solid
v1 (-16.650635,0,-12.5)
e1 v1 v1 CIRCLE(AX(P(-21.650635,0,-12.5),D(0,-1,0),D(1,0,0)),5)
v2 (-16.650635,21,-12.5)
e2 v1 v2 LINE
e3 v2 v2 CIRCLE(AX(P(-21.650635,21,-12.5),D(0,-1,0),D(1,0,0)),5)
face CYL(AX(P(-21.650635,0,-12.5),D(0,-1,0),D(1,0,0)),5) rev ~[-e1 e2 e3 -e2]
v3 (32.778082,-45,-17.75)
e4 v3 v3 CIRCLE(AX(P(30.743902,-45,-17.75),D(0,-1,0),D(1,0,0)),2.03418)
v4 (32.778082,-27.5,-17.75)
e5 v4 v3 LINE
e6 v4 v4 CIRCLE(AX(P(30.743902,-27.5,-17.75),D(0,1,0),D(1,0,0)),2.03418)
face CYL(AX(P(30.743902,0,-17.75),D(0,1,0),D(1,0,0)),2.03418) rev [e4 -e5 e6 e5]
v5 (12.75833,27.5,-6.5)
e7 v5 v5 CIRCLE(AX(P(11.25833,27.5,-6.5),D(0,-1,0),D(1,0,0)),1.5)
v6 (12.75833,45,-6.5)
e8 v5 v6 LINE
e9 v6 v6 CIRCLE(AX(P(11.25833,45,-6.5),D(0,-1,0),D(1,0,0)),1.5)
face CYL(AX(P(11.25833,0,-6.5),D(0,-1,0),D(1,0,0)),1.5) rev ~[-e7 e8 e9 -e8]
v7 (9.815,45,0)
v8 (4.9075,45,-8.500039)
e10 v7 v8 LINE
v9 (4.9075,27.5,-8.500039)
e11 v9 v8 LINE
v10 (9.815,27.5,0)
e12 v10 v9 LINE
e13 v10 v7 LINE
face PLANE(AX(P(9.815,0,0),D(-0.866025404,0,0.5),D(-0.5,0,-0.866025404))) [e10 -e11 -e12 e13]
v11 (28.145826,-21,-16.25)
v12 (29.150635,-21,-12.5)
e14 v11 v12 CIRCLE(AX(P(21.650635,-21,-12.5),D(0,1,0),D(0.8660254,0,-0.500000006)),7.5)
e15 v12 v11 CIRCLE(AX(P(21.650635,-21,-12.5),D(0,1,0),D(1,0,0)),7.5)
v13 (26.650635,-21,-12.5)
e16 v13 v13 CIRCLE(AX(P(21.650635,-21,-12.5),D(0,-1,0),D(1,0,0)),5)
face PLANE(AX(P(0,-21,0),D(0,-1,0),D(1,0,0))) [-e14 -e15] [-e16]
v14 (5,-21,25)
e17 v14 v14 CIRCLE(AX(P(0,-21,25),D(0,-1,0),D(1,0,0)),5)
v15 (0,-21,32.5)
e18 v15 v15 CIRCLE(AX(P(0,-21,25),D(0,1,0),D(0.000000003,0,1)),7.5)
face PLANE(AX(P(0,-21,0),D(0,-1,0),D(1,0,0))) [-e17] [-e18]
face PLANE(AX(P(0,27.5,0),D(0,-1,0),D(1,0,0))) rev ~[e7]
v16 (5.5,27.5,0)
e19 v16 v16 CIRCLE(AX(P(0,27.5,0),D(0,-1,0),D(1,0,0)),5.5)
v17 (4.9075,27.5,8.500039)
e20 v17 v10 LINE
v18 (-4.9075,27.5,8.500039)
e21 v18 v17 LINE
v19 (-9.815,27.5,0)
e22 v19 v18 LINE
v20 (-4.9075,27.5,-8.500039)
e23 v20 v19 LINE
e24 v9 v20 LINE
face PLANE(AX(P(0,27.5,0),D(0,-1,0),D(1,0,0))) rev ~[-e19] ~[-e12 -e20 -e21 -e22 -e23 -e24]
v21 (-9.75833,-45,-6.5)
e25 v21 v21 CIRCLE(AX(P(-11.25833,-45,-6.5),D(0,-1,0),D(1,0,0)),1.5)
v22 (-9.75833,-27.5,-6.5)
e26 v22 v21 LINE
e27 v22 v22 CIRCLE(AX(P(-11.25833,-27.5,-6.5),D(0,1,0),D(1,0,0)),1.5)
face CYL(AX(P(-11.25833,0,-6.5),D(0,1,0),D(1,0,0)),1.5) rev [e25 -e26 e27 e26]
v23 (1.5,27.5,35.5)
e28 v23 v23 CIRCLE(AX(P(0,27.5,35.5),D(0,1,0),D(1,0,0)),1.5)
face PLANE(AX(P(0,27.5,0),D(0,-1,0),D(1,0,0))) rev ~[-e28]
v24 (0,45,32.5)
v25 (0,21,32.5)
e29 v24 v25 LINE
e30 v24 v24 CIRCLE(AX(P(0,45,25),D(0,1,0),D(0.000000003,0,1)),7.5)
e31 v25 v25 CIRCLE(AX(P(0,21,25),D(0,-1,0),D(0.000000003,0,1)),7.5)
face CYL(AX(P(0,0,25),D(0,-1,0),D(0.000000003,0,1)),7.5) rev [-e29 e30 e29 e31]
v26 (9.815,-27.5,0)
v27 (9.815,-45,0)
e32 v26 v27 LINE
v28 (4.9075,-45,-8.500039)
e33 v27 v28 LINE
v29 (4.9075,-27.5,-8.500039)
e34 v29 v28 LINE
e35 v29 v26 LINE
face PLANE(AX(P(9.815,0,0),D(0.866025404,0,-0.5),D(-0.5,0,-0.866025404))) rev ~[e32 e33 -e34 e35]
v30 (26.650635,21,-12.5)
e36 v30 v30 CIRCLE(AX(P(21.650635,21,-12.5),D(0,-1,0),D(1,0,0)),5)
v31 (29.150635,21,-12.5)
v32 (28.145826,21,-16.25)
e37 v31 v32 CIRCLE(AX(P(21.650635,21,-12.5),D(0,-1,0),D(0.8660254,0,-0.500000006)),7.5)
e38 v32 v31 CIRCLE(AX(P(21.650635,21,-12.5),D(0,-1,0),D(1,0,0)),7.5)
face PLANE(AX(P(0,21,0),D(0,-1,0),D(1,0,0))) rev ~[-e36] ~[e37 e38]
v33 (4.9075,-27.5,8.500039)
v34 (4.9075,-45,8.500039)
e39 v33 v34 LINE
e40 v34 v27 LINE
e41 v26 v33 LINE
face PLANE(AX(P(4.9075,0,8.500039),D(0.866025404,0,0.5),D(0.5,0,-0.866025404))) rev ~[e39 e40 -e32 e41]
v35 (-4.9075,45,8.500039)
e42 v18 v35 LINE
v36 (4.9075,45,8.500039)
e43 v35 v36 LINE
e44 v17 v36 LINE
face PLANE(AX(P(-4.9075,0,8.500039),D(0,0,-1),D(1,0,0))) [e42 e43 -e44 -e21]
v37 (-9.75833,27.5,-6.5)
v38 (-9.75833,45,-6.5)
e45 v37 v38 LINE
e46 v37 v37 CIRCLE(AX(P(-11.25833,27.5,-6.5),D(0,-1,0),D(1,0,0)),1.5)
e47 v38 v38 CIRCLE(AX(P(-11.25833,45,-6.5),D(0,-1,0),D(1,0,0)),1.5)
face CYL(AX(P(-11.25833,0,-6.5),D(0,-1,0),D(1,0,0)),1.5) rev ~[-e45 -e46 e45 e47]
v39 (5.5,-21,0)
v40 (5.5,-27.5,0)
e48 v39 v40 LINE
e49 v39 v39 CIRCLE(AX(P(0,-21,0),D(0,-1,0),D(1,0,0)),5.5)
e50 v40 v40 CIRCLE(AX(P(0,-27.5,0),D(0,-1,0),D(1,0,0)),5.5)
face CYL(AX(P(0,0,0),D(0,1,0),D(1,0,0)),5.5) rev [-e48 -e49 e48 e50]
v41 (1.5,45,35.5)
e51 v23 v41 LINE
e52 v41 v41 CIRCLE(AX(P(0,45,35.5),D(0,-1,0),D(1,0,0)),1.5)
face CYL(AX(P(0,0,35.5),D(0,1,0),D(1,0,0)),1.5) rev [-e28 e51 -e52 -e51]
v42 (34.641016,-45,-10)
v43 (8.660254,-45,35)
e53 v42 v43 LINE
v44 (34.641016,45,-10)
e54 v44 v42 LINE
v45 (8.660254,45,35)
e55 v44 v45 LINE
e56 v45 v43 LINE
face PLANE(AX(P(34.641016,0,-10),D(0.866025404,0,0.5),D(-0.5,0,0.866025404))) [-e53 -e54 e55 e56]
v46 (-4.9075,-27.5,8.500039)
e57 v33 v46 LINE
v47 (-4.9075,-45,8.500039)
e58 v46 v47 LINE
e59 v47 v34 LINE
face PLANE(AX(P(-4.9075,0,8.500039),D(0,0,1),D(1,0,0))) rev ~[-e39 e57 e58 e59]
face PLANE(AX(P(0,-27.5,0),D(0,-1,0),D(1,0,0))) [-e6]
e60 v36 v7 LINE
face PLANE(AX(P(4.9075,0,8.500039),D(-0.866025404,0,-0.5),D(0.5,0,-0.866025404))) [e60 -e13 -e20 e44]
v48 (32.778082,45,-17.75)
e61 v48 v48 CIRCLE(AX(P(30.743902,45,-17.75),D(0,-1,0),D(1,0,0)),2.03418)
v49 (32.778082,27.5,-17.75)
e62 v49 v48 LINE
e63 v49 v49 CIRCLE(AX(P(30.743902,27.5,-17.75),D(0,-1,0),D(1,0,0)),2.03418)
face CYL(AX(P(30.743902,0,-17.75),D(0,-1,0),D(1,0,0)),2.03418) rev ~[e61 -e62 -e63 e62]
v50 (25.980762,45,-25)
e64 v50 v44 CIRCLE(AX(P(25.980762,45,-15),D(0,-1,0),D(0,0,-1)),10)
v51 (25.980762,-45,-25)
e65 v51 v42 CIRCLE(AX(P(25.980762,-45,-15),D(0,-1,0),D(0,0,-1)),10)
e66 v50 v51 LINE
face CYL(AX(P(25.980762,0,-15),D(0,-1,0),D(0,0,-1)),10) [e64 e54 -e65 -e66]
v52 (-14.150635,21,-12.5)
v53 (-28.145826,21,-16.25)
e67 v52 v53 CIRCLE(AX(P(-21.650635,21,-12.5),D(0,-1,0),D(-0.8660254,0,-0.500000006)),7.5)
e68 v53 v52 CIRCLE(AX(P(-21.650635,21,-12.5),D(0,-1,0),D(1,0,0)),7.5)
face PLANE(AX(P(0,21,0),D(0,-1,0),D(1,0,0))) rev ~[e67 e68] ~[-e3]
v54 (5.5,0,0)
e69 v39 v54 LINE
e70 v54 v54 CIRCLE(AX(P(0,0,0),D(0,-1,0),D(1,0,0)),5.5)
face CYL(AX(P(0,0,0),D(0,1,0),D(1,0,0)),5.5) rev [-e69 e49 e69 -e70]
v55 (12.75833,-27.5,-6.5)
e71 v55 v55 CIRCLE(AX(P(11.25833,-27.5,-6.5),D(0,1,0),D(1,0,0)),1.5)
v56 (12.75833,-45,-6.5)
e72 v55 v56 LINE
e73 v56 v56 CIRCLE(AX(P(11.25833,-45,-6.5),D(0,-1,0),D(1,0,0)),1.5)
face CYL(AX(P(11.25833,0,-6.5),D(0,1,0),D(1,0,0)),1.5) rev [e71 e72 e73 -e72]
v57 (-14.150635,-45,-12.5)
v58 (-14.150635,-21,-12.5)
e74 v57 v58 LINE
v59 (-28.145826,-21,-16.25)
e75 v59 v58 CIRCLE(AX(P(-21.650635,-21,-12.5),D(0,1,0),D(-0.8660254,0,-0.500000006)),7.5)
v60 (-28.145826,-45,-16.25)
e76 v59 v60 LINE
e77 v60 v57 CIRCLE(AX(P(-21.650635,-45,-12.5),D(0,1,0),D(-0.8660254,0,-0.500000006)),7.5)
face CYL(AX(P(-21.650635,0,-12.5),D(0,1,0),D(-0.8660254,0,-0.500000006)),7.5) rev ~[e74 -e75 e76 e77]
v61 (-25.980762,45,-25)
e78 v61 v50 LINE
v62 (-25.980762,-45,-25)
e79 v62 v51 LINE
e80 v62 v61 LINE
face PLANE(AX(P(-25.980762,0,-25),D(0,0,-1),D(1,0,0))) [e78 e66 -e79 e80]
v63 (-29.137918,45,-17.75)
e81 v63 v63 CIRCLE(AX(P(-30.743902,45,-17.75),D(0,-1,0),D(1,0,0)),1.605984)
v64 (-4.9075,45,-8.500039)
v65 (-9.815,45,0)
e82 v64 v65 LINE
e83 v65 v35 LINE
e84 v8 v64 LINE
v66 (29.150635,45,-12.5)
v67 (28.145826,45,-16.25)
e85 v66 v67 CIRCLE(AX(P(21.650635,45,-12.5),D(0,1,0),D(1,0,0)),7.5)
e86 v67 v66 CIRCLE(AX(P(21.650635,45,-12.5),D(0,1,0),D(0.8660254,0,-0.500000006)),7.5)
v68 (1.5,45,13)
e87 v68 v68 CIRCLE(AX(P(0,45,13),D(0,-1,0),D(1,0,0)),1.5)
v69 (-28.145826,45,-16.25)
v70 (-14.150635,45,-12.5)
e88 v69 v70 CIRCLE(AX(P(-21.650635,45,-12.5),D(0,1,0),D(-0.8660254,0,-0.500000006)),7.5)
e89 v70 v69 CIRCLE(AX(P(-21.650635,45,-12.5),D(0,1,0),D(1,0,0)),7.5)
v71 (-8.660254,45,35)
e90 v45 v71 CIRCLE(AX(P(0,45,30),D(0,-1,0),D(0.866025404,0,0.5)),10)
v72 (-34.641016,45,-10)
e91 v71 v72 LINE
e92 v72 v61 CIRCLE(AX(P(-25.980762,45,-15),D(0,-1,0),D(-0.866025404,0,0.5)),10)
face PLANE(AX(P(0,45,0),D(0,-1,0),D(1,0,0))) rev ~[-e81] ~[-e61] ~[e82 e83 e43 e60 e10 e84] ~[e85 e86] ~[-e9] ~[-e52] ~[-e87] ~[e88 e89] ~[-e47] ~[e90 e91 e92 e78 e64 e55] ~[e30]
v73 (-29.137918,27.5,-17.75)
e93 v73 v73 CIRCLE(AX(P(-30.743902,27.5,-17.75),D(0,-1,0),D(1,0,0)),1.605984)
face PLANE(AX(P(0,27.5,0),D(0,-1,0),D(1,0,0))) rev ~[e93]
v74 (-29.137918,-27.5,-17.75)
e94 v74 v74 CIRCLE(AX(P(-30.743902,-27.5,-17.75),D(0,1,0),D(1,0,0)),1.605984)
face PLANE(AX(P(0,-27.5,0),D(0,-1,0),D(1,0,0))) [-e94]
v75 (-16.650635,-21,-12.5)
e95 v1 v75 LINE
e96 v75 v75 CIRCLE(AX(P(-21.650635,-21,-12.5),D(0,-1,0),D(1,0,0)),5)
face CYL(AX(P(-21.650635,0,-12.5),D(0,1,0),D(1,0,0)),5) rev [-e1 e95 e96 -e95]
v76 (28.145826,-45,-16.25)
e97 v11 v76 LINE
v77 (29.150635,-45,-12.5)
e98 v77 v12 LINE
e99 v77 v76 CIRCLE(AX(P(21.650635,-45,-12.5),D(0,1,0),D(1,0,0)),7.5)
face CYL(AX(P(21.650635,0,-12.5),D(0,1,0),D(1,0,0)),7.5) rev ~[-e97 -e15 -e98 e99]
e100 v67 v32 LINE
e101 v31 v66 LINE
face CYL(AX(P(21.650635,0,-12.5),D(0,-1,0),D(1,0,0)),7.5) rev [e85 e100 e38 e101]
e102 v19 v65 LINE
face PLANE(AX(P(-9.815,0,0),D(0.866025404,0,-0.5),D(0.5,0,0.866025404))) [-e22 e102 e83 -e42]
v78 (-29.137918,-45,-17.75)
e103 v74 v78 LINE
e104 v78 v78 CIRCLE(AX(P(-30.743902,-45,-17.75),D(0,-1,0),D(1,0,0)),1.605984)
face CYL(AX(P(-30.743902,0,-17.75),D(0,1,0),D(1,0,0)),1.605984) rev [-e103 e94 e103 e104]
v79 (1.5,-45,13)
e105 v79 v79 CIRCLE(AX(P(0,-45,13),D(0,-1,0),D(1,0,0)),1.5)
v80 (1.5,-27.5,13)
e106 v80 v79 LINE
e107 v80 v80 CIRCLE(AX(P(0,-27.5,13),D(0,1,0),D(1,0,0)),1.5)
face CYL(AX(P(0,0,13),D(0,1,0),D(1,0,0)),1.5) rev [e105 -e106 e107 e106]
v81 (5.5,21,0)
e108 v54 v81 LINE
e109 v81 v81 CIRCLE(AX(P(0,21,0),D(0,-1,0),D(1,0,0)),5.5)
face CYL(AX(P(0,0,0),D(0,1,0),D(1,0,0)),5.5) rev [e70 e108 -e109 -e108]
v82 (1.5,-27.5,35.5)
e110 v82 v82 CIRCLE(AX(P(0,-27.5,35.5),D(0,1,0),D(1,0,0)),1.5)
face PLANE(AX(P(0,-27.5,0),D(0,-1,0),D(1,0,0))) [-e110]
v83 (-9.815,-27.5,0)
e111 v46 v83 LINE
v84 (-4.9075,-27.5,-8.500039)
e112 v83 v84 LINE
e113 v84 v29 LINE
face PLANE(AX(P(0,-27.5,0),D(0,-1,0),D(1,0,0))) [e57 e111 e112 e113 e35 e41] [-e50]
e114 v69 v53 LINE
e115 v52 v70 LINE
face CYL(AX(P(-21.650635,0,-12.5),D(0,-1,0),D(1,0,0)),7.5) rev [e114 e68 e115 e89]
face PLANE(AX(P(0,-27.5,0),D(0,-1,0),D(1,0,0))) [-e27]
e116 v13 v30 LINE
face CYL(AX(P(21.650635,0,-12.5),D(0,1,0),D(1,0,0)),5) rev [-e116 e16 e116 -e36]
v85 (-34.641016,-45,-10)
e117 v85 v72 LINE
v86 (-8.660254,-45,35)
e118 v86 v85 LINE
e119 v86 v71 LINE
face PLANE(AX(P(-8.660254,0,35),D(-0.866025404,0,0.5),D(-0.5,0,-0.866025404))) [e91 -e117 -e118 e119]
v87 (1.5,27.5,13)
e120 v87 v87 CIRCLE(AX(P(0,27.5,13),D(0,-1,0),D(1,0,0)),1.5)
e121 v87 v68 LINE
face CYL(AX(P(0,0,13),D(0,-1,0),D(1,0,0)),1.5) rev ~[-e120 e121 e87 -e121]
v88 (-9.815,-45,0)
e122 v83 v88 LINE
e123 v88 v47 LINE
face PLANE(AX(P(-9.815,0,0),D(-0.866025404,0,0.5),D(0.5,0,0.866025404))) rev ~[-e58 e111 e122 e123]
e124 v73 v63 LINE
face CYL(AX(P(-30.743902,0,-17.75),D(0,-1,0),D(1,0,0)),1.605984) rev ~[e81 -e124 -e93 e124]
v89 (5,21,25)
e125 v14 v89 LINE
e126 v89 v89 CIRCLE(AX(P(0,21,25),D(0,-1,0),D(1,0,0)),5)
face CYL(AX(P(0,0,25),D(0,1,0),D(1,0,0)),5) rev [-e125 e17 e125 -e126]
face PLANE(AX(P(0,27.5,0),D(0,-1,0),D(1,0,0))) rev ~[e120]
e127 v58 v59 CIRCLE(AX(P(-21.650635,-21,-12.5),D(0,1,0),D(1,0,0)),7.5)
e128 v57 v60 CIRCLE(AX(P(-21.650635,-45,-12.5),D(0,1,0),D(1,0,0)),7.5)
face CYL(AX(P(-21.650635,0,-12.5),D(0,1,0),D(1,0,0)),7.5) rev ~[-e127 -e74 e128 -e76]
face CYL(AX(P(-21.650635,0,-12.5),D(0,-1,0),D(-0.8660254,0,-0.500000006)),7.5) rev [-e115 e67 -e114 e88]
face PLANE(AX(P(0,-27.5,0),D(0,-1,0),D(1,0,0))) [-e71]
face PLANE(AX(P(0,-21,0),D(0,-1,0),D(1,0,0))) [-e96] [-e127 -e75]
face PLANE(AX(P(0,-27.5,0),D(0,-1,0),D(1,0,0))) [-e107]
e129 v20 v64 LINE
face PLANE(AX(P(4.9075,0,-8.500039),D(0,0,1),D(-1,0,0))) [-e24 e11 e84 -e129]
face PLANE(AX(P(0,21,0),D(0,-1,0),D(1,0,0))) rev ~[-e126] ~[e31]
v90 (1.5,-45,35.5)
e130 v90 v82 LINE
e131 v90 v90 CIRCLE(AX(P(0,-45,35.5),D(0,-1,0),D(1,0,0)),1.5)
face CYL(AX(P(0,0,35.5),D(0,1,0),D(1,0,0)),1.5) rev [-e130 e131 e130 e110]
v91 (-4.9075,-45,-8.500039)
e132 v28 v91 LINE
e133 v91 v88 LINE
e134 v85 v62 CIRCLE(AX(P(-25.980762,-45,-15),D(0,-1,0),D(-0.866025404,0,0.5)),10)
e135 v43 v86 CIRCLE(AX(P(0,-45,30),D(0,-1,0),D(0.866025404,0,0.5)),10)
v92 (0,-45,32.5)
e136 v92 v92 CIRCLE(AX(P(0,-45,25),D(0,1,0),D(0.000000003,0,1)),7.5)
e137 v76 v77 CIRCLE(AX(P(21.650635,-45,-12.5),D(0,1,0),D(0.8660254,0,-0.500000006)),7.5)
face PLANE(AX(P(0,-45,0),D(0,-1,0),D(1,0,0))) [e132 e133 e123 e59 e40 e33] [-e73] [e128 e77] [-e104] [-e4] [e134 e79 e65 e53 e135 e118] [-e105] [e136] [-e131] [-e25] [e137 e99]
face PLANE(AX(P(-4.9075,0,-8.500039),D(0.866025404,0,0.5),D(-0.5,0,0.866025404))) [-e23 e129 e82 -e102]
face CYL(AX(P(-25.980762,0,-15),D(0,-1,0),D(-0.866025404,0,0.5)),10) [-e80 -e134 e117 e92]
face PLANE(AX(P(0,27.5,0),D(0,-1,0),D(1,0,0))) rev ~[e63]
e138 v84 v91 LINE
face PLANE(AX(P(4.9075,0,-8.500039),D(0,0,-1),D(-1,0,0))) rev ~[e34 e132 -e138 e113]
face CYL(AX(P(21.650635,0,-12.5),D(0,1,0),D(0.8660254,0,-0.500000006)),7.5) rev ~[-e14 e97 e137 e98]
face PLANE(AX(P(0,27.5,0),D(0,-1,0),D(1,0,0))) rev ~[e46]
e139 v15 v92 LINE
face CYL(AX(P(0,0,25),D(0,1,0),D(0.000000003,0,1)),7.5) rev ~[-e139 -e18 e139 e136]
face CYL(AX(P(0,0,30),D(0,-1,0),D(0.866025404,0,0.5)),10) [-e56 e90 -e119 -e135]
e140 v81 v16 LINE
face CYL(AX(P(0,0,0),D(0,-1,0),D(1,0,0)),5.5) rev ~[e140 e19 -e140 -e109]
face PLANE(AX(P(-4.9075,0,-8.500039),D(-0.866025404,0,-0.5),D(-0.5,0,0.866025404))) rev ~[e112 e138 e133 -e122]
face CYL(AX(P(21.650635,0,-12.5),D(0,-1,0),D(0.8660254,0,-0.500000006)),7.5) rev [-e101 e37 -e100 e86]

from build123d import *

# Parameters (mm, degrees)
F0_R     = 3
F0_R_2   = 5.5
F0_R_3   = 5
F0_R_4   = 1.5
F1_DEPTH = 21
F0_R_5   = 2.034179683
F0_R_6   = 1.6059835871
F2_DEPTH = 27.5
F3_DEPTH = 45


with BuildPart() as f1:
    # F0 (on Front) → F1 (new body, symmetric)
    with BuildSketch(Plane.XZ):
        with BuildLine():
            Line((-25.9807621135, -25), (25.9807621135, -25))
            ThreePointArc((25.9807621135, -25), (34.6410161514, -20), (34.6410161514, -10))
            Line((34.6410161514, -10), (8.6602540378, 35))
            ThreePointArc((8.6602540378, 35), (0, 40), (-8.6602540378, 35))
            Line((-8.6602540378, 35), (-34.6410161514, -10))
            ThreePointArc((-34.6410161514, -10), (-34.6410161514, -20), (-25.9807621135, -25))
        make_face()
        with BuildLine():
            ThreePointArc((-27.7439018343, -17.75), (-33.6416793203, -18.5264571088), (-28.1458255955, -16.2500000476))
            ThreePointArc((-28.1458255955, -16.2500000476), (-27.8461243484, -16.9735428912), (-27.7439018343, -17.75))
        make_face(mode=Mode.SUBTRACT)
        with BuildLine():
            ThreePointArc((-28.1458255955, -16.2500000476), (-23.5917779594, -5.2555563099), (-14.1506350946, -12.5))
            ThreePointArc((-14.1506350946, -12.5), (-19.7094922298, -19.7444436901), (-28.1458255955, -16.2500000476))
        make_face(mode=Mode.SUBTRACT)
        with Locations((-11.2583302492, -6.5)):
            Circle(F0_R, mode=Mode.SUBTRACT)
        Polygon((-4.9075, -8.5000393381), (-9.815, 0), (-4.9075, 8.5000393381), (4.9075, 8.5000393381), (9.815, 0), (4.9075, -8.5000393381), align=None, mode=Mode.SUBTRACT)
        with BuildLine():
            ThreePointArc((33.7439018343, -17.75), (29.9674447256, -20.647777486), (28.1458255955, -16.2500000476))
            ThreePointArc((28.1458255955, -16.2500000476), (31.5203589431, -14.852222514), (33.7439018343, -17.75))
        make_face(mode=Mode.SUBTRACT)
        with BuildLine():
            ThreePointArc((28.1458255955, -16.2500000476), (14.4061914045, -10.5588571352), (29.1506350946, -12.5))
            ThreePointArc((29.1506350946, -12.5), (28.8950787847, -14.4411428648), (28.1458255955, -16.2500000476))
        make_face(mode=Mode.SUBTRACT)
        with Locations((11.2583302492, -6.5)):
            Circle(F0_R, mode=Mode.SUBTRACT)
        with Locations((0, 13)):
            Circle(F0_R, mode=Mode.SUBTRACT)
        with BuildLine():
            ThreePointArc((2.6e-08, 32.5), (5.3033008681, 30.3033008497), (7.5, 25))
            ThreePointArc((7.5, 25), (-5.3033008681, 19.6966991503), (2.6e-08, 32.5))
        make_face(mode=Mode.SUBTRACT)
        with BuildLine():
            ThreePointArc((3, 35.5), (2.1213203528, 33.3786796656), (2.6e-08, 32.5))
            ThreePointArc((2.6e-08, 32.5), (-2.1213203528, 37.6213203344), (3, 35.5))
        make_face(mode=Mode.SUBTRACT)
        Polygon((-4.9075, 8.5000393381), (-9.815, 0), (-4.9075, -8.5000393381), (4.9075, -8.5000393381), (9.815, 0), (4.9075, 8.5000393381), align=None)
        Circle(F0_R_2, mode=Mode.SUBTRACT)
        with BuildLine():
            ThreePointArc((-28.1458255955, -16.2500000476), (-19.7094922298, -19.7444436901), (-14.1506350946, -12.5))
            ThreePointArc((-14.1506350946, -12.5), (-23.5917779594, -5.2555563099), (-28.1458255955, -16.2500000476))
        make_face()
        with Locations((-21.6506350946, -12.5)):
            Circle(F0_R_3, mode=Mode.SUBTRACT)
        with BuildLine():
            ThreePointArc((28.1458255955, -16.2500000476), (28.8950787847, -14.4411428648), (29.1506350946, -12.5))
            ThreePointArc((29.1506350946, -12.5), (14.4061914045, -10.5588571352), (28.1458255955, -16.2500000476))
        make_face()
        with Locations((21.6506350946, -12.5)):
            Circle(F0_R_3, mode=Mode.SUBTRACT)
        with BuildLine():
            ThreePointArc((2.6e-08, 32.5), (-5.3033008681, 19.6966991503), (7.5, 25))
            ThreePointArc((7.5, 25), (5.3033008681, 30.3033008497), (2.6e-08, 32.5))
        make_face()
        with Locations((0, 25)):
            Circle(F0_R_3, mode=Mode.SUBTRACT)
        with Locations((0, 13)):
            Circle(F0_R)
        with Locations((0, 13)):
            Circle(F0_R_4, mode=Mode.SUBTRACT)
        with Locations((-11.2583302492, -6.5)):
            Circle(F0_R)
        with Locations((-11.2583302492, -6.5)):
            Circle(F0_R_4, mode=Mode.SUBTRACT)
        with Locations((11.2583302492, -6.5)):
            Circle(F0_R)
        with Locations((11.2583302492, -6.5)):
            Circle(F0_R_4, mode=Mode.SUBTRACT)
        with Locations((0, 13)):
            Circle(F0_R_4)
        with Locations((-11.2583302492, -6.5)):
            Circle(F0_R_4)
        with Locations((11.2583302492, -6.5)):
            Circle(F0_R_4)
    extrude(amount=F1_DEPTH, both=True)

    # F0 (on Front) → F2 (join, symmetric)
    with BuildSketch(Plane.XZ):
        with BuildLine():
            Line((-25.9807621135, -25), (25.9807621135, -25))
            ThreePointArc((25.9807621135, -25), (34.6410161514, -20), (34.6410161514, -10))
            Line((34.6410161514, -10), (8.6602540378, 35))
            ThreePointArc((8.6602540378, 35), (0, 40), (-8.6602540378, 35))
            Line((-8.6602540378, 35), (-34.6410161514, -10))
            ThreePointArc((-34.6410161514, -10), (-34.6410161514, -20), (-25.9807621135, -25))
        make_face()
        with BuildLine():
            ThreePointArc((-27.7439018343, -17.75), (-33.6416793203, -18.5264571088), (-28.1458255955, -16.2500000476))
            ThreePointArc((-28.1458255955, -16.2500000476), (-27.8461243484, -16.9735428912), (-27.7439018343, -17.75))
        make_face(mode=Mode.SUBTRACT)
        with BuildLine():
            ThreePointArc((-28.1458255955, -16.2500000476), (-23.5917779594, -5.2555563099), (-14.1506350946, -12.5))
            ThreePointArc((-14.1506350946, -12.5), (-19.7094922298, -19.7444436901), (-28.1458255955, -16.2500000476))
        make_face(mode=Mode.SUBTRACT)
        with Locations((-11.2583302492, -6.5)):
            Circle(F0_R, mode=Mode.SUBTRACT)
        Polygon((-4.9075, -8.5000393381), (-9.815, 0), (-4.9075, 8.5000393381), (4.9075, 8.5000393381), (9.815, 0), (4.9075, -8.5000393381), align=None, mode=Mode.SUBTRACT)
        with BuildLine():
            ThreePointArc((33.7439018343, -17.75), (29.9674447256, -20.647777486), (28.1458255955, -16.2500000476))
            ThreePointArc((28.1458255955, -16.2500000476), (31.5203589431, -14.852222514), (33.7439018343, -17.75))
        make_face(mode=Mode.SUBTRACT)
        with BuildLine():
            ThreePointArc((28.1458255955, -16.2500000476), (14.4061914045, -10.5588571352), (29.1506350946, -12.5))
            ThreePointArc((29.1506350946, -12.5), (28.8950787847, -14.4411428648), (28.1458255955, -16.2500000476))
        make_face(mode=Mode.SUBTRACT)
        with Locations((11.2583302492, -6.5)):
            Circle(F0_R, mode=Mode.SUBTRACT)
        with Locations((0, 13)):
            Circle(F0_R, mode=Mode.SUBTRACT)
        with BuildLine():
            ThreePointArc((2.6e-08, 32.5), (5.3033008681, 30.3033008497), (7.5, 25))
            ThreePointArc((7.5, 25), (-5.3033008681, 19.6966991503), (2.6e-08, 32.5))
        make_face(mode=Mode.SUBTRACT)
        with BuildLine():
            ThreePointArc((3, 35.5), (2.1213203528, 33.3786796656), (2.6e-08, 32.5))
            ThreePointArc((2.6e-08, 32.5), (-2.1213203528, 37.6213203344), (3, 35.5))
        make_face(mode=Mode.SUBTRACT)
        with BuildLine():
            ThreePointArc((33.7439018343, -17.75), (31.5203589431, -14.852222514), (28.1458255955, -16.2500000476))
            ThreePointArc((28.1458255955, -16.2500000476), (29.9674447256, -20.647777486), (33.7439018343, -17.75))
        make_face()
        with Locations((30.7439018343, -17.75)):
            Circle(F0_R_5, mode=Mode.SUBTRACT)
        with BuildLine():
            ThreePointArc((-27.7439018343, -17.75), (-27.8461243484, -16.9735428912), (-28.1458255955, -16.2500000476))
            ThreePointArc((-28.1458255955, -16.2500000476), (-33.6416793203, -18.5264571088), (-27.7439018343, -17.75))
        make_face()
        with Locations((-30.7439018343, -17.75)):
            Circle(F0_R_6, mode=Mode.SUBTRACT)
        with BuildLine():
            ThreePointArc((3, 35.5), (-2.1213203528, 37.6213203344), (2.6e-08, 32.5))
            ThreePointArc((2.6e-08, 32.5), (2.1213203528, 33.3786796656), (3, 35.5))
        make_face()
        with Locations((0, 35.5)):
            Circle(F0_R_4, mode=Mode.SUBTRACT)
        with Locations((0, 13)):
            Circle(F0_R)
        with Locations((0, 13)):
            Circle(F0_R_4, mode=Mode.SUBTRACT)
        with Locations((0, 13)):
            Circle(F0_R_4)
        with Locations((11.2583302492, -6.5)):
            Circle(F0_R)
        with Locations((11.2583302492, -6.5)):
            Circle(F0_R_4, mode=Mode.SUBTRACT)
        with Locations((11.2583302492, -6.5)):
            Circle(F0_R_4)
        with Locations((-11.2583302492, -6.5)):
            Circle(F0_R)
        with Locations((-11.2583302492, -6.5)):
            Circle(F0_R_4, mode=Mode.SUBTRACT)
        with Locations((-11.2583302492, -6.5)):
            Circle(F0_R_4)
        Polygon((-4.9075, 8.5000393381), (-9.815, 0), (-4.9075, -8.5000393381), (4.9075, -8.5000393381), (9.815, 0), (4.9075, 8.5000393381), align=None)
        Circle(F0_R_2, mode=Mode.SUBTRACT)
        with Locations((0, 35.5)):
            Circle(F0_R_4)
        with Locations((30.7439018343, -17.75)):
            Circle(F0_R_5)
        with Locations((-30.7439018343, -17.75)):
            Circle(F0_R_6)
    extrude(amount=F2_DEPTH, both=True)

    # F0 (on Front) → F3 (join, symmetric)
    with BuildSketch(Plane.XZ):
        with BuildLine():
            Line((-25.9807621135, -25), (25.9807621135, -25))
            ThreePointArc((25.9807621135, -25), (34.6410161514, -20), (34.6410161514, -10))
            Line((34.6410161514, -10), (8.6602540378, 35))
            ThreePointArc((8.6602540378, 35), (0, 40), (-8.6602540378, 35))
            Line((-8.6602540378, 35), (-34.6410161514, -10))
            ThreePointArc((-34.6410161514, -10), (-34.6410161514, -20), (-25.9807621135, -25))
        make_face()
        with BuildLine():
            ThreePointArc((-27.7439018343, -17.75), (-33.6416793203, -18.5264571088), (-28.1458255955, -16.2500000476))
            ThreePointArc((-28.1458255955, -16.2500000476), (-27.8461243484, -16.9735428912), (-27.7439018343, -17.75))
        make_face(mode=Mode.SUBTRACT)
        with BuildLine():
            ThreePointArc((-28.1458255955, -16.2500000476), (-23.5917779594, -5.2555563099), (-14.1506350946, -12.5))
            ThreePointArc((-14.1506350946, -12.5), (-19.7094922298, -19.7444436901), (-28.1458255955, -16.2500000476))
        make_face(mode=Mode.SUBTRACT)
        with Locations((-11.2583302492, -6.5)):
            Circle(F0_R, mode=Mode.SUBTRACT)
        Polygon((-4.9075, -8.5000393381), (-9.815, 0), (-4.9075, 8.5000393381), (4.9075, 8.5000393381), (9.815, 0), (4.9075, -8.5000393381), align=None, mode=Mode.SUBTRACT)
        with BuildLine():
            ThreePointArc((33.7439018343, -17.75), (29.9674447256, -20.647777486), (28.1458255955, -16.2500000476))
            ThreePointArc((28.1458255955, -16.2500000476), (31.5203589431, -14.852222514), (33.7439018343, -17.75))
        make_face(mode=Mode.SUBTRACT)
        with BuildLine():
            ThreePointArc((28.1458255955, -16.2500000476), (14.4061914045, -10.5588571352), (29.1506350946, -12.5))
            ThreePointArc((29.1506350946, -12.5), (28.8950787847, -14.4411428648), (28.1458255955, -16.2500000476))
        make_face(mode=Mode.SUBTRACT)
        with Locations((11.2583302492, -6.5)):
            Circle(F0_R, mode=Mode.SUBTRACT)
        with Locations((0, 13)):
            Circle(F0_R, mode=Mode.SUBTRACT)
        with BuildLine():
            ThreePointArc((2.6e-08, 32.5), (5.3033008681, 30.3033008497), (7.5, 25))
            ThreePointArc((7.5, 25), (-5.3033008681, 19.6966991503), (2.6e-08, 32.5))
        make_face(mode=Mode.SUBTRACT)
        with BuildLine():
            ThreePointArc((3, 35.5), (2.1213203528, 33.3786796656), (2.6e-08, 32.5))
            ThreePointArc((2.6e-08, 32.5), (-2.1213203528, 37.6213203344), (3, 35.5))
        make_face(mode=Mode.SUBTRACT)
        with BuildLine():
            ThreePointArc((33.7439018343, -17.75), (31.5203589431, -14.852222514), (28.1458255955, -16.2500000476))
            ThreePointArc((28.1458255955, -16.2500000476), (29.9674447256, -20.647777486), (33.7439018343, -17.75))
        make_face()
        with Locations((30.7439018343, -17.75)):
            Circle(F0_R_5, mode=Mode.SUBTRACT)
        with BuildLine():
            ThreePointArc((-27.7439018343, -17.75), (-27.8461243484, -16.9735428912), (-28.1458255955, -16.2500000476))
            ThreePointArc((-28.1458255955, -16.2500000476), (-33.6416793203, -18.5264571088), (-27.7439018343, -17.75))
        make_face()
        with Locations((-30.7439018343, -17.75)):
            Circle(F0_R_6, mode=Mode.SUBTRACT)
        with BuildLine():
            ThreePointArc((3, 35.5), (-2.1213203528, 37.6213203344), (2.6e-08, 32.5))
            ThreePointArc((2.6e-08, 32.5), (2.1213203528, 33.3786796656), (3, 35.5))
        make_face()
        with Locations((0, 35.5)):
            Circle(F0_R_4, mode=Mode.SUBTRACT)
        with Locations((0, 13)):
            Circle(F0_R)
        with Locations((0, 13)):
            Circle(F0_R_4, mode=Mode.SUBTRACT)
        with Locations((11.2583302492, -6.5)):
            Circle(F0_R)
        with Locations((11.2583302492, -6.5)):
            Circle(F0_R_4, mode=Mode.SUBTRACT)
        with Locations((-11.2583302492, -6.5)):
            Circle(F0_R)
        with Locations((-11.2583302492, -6.5)):
            Circle(F0_R_4, mode=Mode.SUBTRACT)
    extrude(amount=F3_DEPTH, both=True)


solid = f1.part
